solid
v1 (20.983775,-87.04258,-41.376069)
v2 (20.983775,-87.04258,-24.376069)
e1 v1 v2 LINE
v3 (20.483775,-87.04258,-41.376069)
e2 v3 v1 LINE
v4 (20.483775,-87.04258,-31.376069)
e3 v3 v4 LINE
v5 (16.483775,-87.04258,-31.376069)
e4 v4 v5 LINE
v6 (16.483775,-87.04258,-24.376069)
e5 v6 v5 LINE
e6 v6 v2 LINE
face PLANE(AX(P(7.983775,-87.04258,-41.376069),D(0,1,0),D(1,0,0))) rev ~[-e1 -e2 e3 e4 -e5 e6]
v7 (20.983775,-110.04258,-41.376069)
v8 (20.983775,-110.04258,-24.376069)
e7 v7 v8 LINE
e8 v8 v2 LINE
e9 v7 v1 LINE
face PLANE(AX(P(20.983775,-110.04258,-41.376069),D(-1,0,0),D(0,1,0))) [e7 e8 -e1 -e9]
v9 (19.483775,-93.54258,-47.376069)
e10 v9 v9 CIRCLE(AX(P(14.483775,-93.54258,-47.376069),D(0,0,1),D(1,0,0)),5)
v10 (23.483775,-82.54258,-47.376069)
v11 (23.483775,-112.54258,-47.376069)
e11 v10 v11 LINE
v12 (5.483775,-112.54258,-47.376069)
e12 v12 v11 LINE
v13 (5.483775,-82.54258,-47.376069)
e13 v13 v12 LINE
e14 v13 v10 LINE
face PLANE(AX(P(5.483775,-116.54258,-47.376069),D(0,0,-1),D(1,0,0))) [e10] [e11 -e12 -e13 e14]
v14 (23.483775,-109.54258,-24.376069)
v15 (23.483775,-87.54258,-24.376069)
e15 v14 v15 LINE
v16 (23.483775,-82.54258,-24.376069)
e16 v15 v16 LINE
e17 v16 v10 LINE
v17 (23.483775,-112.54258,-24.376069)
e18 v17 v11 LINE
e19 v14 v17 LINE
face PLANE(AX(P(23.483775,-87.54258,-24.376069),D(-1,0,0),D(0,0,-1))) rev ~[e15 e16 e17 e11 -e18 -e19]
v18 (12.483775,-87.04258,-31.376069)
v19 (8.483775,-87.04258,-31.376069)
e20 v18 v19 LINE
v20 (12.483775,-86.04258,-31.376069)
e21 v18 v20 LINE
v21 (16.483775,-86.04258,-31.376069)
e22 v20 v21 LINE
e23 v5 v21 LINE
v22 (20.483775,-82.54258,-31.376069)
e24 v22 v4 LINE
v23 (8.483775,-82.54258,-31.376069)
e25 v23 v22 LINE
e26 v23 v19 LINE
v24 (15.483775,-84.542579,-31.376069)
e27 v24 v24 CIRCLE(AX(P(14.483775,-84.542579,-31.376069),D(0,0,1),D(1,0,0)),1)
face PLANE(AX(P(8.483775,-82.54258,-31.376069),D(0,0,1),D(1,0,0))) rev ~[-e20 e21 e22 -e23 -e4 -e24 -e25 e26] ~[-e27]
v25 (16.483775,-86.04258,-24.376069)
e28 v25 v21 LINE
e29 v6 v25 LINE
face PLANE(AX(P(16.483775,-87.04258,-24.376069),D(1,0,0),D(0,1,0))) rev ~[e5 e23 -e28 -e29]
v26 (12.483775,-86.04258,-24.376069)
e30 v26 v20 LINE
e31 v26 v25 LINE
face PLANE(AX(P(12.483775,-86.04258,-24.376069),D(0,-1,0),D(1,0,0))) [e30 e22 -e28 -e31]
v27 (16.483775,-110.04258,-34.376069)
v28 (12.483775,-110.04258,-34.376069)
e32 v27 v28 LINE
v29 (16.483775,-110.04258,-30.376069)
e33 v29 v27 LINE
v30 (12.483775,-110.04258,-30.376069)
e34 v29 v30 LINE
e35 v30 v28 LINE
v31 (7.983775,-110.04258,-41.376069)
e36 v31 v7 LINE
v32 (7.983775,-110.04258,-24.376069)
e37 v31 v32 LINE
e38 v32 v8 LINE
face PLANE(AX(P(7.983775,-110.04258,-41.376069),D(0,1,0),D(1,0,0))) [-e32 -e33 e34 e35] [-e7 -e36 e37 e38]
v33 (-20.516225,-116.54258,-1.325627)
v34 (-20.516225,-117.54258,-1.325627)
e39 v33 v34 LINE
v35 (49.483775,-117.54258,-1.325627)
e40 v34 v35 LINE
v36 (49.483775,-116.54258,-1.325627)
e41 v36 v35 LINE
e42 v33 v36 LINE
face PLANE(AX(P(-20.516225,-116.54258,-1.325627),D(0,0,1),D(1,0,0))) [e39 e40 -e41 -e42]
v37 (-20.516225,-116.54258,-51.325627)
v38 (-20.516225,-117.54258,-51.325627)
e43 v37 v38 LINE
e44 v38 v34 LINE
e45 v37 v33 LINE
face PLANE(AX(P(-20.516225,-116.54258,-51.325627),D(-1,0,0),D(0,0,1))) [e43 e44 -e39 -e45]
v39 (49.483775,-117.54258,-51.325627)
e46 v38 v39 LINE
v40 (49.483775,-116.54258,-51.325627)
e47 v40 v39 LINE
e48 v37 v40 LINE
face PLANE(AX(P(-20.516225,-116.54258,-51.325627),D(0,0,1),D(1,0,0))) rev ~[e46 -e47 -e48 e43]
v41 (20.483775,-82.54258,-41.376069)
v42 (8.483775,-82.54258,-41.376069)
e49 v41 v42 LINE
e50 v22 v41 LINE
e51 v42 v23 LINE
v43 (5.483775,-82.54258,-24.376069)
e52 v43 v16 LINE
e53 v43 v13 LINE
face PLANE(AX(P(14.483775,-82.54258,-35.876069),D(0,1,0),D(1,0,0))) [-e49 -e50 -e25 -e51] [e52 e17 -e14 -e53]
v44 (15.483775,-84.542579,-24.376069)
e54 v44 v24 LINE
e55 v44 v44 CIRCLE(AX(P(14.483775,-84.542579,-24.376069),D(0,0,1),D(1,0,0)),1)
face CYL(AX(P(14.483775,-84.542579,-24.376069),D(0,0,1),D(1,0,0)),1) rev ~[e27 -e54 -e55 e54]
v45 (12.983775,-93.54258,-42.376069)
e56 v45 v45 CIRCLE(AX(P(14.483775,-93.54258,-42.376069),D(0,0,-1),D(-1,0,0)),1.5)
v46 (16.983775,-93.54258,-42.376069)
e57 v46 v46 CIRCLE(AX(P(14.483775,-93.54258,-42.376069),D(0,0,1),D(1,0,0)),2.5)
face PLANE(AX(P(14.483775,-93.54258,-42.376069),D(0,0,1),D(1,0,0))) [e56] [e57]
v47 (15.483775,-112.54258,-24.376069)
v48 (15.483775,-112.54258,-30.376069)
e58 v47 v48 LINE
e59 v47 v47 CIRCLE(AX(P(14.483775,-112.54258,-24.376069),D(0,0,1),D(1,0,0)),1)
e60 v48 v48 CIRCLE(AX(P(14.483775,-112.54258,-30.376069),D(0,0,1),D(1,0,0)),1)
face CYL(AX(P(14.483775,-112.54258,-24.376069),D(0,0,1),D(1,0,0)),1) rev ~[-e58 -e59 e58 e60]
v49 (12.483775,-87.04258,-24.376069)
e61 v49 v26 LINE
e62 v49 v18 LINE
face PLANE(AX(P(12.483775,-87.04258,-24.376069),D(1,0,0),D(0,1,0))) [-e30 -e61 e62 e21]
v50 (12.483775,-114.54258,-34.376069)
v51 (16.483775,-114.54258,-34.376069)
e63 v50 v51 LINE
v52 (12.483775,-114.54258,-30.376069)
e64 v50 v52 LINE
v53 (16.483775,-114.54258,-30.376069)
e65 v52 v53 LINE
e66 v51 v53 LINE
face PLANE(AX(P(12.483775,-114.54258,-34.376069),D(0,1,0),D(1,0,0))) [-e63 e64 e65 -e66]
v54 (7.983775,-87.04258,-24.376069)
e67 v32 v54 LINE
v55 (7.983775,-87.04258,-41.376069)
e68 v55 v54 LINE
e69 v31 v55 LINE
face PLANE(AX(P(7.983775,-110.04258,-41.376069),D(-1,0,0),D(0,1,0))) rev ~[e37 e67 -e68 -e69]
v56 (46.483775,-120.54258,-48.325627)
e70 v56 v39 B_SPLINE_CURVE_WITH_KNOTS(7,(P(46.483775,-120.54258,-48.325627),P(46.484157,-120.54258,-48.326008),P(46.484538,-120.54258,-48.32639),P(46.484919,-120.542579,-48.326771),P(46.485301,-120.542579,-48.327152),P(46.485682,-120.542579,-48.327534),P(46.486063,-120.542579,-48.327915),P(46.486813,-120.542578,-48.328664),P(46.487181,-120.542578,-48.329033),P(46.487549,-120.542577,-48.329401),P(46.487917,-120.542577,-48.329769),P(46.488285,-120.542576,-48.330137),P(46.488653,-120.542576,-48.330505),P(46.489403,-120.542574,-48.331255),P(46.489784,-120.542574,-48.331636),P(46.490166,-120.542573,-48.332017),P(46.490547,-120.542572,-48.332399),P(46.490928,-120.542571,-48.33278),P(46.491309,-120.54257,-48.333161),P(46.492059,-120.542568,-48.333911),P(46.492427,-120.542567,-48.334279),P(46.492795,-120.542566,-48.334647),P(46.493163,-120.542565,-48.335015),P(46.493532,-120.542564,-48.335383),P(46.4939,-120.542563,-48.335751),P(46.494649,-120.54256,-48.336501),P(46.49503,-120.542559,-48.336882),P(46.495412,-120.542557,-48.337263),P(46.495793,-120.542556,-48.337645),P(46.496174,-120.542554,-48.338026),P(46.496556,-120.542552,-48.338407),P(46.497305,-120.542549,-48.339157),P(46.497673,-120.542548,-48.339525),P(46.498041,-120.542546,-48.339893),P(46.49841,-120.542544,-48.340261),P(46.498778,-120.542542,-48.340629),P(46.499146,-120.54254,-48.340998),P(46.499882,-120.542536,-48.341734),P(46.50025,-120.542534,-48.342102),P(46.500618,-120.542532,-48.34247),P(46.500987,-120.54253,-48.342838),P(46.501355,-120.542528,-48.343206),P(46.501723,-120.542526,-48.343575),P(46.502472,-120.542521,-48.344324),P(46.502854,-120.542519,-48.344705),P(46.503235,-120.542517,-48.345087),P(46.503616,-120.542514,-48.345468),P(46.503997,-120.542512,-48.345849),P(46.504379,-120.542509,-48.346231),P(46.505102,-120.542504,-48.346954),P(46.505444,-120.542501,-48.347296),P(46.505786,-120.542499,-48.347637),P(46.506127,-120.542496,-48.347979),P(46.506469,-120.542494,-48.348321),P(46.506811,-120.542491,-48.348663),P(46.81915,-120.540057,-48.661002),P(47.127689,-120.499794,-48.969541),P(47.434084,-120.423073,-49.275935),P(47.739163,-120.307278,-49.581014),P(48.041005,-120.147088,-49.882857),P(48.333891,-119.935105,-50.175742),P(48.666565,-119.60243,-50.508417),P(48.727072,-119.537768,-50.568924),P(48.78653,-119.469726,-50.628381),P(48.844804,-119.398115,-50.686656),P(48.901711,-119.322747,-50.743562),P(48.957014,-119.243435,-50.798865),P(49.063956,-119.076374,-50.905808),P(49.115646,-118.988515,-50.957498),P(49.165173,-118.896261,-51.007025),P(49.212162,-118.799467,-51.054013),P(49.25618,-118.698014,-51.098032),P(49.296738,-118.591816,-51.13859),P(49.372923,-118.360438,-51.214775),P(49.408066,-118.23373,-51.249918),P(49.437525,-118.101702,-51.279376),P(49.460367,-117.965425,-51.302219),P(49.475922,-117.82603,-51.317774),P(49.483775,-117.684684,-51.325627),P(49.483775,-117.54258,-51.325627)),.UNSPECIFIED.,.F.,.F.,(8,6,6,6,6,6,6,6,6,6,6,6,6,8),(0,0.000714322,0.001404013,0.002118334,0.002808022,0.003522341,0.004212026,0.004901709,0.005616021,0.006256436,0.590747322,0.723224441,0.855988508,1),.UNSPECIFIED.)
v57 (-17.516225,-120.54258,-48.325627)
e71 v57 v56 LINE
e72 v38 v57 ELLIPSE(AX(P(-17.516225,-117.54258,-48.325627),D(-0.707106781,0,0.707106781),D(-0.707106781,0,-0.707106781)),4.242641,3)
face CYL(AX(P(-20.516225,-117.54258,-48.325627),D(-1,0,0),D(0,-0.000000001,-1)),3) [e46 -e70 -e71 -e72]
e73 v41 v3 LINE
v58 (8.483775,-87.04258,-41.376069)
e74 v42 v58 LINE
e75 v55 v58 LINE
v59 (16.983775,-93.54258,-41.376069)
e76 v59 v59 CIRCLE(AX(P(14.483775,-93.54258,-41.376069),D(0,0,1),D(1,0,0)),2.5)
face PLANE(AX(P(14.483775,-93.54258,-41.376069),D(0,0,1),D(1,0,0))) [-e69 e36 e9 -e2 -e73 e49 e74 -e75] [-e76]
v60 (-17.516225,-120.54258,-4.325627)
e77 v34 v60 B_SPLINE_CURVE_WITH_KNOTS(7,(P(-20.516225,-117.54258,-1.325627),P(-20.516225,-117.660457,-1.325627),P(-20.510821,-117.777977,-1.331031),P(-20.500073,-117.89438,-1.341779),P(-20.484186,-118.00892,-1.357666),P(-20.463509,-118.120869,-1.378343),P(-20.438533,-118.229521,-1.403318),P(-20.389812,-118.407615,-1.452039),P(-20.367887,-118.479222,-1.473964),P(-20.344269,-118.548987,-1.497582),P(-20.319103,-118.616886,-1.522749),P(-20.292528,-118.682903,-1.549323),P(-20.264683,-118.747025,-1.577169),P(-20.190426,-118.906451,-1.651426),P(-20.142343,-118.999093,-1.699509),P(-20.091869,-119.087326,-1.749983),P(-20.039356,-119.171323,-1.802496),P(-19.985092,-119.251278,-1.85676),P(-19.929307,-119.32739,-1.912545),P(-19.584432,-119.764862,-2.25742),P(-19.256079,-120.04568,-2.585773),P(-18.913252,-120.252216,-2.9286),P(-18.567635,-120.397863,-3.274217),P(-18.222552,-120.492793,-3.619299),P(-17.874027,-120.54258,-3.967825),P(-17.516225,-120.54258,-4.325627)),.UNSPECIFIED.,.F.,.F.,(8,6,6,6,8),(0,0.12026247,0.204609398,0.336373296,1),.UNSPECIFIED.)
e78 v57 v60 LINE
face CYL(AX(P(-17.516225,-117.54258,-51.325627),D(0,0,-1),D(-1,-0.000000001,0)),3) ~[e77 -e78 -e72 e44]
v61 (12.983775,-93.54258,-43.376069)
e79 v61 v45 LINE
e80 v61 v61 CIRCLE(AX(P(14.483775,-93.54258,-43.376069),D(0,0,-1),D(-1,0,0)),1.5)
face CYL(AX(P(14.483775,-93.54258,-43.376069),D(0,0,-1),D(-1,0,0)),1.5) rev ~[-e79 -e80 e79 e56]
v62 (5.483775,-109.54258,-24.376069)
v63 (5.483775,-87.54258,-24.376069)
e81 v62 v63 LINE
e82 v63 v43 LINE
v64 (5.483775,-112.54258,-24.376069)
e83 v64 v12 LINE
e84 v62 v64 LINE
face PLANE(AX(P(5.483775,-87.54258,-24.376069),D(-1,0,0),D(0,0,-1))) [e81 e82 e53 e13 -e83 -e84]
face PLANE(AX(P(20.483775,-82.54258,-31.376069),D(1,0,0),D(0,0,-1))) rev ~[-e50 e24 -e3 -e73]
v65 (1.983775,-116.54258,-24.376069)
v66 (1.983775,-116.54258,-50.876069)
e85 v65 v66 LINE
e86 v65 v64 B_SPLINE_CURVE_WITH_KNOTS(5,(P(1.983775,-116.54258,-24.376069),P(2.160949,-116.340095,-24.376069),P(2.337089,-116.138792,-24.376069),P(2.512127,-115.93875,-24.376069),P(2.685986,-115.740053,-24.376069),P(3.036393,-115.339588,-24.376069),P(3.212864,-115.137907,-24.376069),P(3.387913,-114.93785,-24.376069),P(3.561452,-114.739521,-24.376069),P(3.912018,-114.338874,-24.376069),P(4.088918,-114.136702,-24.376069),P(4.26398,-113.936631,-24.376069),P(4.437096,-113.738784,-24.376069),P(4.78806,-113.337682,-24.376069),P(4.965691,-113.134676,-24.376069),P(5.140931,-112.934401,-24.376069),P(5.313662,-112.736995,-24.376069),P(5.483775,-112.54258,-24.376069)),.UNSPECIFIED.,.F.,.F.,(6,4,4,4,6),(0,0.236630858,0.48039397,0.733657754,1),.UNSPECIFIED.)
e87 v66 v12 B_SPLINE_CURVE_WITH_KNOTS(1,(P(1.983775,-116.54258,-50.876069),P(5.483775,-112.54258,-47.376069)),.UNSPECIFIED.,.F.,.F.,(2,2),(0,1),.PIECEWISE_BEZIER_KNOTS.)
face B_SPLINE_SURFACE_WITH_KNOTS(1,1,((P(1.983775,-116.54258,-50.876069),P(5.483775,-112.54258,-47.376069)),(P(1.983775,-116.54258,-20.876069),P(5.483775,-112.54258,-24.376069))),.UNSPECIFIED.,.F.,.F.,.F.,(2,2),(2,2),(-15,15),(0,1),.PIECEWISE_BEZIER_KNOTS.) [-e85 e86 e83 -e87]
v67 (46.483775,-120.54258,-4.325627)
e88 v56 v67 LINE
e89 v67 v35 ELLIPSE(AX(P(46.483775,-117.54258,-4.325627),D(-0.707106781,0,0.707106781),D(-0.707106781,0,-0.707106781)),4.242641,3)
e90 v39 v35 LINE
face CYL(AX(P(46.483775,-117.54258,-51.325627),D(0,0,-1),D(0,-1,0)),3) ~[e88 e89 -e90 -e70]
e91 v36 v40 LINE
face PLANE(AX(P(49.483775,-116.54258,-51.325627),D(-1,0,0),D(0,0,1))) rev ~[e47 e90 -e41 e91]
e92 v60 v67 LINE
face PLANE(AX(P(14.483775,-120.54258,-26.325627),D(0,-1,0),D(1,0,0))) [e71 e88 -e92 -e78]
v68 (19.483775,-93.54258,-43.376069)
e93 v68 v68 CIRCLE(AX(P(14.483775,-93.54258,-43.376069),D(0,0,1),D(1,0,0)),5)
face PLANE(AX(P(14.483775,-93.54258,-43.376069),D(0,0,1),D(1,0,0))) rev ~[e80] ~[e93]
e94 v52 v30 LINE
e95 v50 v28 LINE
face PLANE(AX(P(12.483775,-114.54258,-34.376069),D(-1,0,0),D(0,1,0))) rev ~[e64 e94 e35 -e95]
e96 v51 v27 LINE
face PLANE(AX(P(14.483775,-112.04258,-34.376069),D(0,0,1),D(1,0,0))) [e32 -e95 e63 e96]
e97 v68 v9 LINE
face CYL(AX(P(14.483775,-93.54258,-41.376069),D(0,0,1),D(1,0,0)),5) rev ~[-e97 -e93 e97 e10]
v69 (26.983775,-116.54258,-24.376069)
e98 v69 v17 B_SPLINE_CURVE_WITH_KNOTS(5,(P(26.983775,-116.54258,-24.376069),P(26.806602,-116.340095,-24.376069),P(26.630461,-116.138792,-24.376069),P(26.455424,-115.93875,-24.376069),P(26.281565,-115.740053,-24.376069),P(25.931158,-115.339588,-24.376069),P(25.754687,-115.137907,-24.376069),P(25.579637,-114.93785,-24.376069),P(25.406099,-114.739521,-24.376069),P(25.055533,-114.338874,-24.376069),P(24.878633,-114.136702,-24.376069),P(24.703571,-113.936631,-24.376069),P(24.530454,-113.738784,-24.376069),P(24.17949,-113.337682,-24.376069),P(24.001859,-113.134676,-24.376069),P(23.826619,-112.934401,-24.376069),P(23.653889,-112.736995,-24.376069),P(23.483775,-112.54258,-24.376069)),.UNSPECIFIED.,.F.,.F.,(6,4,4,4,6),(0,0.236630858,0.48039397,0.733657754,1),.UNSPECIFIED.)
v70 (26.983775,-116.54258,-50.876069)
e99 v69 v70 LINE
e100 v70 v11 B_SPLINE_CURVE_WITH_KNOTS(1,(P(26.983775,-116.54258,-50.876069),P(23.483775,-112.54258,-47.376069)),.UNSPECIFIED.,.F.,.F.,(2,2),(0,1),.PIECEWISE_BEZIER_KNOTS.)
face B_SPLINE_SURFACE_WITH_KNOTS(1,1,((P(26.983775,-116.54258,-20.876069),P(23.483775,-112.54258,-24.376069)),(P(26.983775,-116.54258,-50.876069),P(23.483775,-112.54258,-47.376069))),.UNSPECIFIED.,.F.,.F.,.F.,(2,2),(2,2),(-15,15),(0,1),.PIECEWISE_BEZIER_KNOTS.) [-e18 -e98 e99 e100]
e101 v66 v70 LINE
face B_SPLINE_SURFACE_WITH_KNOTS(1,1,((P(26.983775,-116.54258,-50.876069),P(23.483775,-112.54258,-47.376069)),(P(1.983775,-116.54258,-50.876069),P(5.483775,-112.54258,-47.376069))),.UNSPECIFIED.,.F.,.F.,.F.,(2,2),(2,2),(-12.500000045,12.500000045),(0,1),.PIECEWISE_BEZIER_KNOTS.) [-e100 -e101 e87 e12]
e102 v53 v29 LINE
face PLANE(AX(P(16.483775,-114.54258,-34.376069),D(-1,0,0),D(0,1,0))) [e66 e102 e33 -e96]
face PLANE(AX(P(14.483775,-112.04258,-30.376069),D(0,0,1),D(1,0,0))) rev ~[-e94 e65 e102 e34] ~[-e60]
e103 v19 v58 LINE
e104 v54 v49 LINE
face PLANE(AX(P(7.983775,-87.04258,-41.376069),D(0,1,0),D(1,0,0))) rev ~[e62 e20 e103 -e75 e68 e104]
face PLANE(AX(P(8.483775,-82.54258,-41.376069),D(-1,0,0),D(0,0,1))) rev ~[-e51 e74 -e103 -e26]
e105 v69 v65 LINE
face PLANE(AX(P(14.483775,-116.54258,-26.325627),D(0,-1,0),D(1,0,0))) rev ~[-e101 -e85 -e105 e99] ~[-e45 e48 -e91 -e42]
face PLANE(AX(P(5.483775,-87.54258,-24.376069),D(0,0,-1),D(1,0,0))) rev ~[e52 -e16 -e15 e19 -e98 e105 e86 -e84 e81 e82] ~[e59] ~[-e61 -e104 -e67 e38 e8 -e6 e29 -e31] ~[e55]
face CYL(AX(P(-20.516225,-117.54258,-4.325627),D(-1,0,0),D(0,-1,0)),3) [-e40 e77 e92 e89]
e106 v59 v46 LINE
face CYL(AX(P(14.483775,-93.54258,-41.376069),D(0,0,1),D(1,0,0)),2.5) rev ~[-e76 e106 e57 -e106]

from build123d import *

# Parameters (mm, degrees)
BOSS_EXTRUDE1_DEPTH     = 22
SKETCH2_W               = 18.000000089
SKETCH2_H               = 20
BOSS_EXTRUDE2_DEPTH     = 7
SKETCH3_W               = 70
SKETCH3_H               = 50
BOSS_EXTRUDE3_DEPTH     = 4
SKETCH31_W              = 18.000000089
SKETCH31_H              = 3
BOSS_EXTRUDE7_DEPTH     = 34
CUT_EXTRUDE1_REACH      = 52
CUT_EXTRUDE_THIN1_REACH = 72
SKETCH7_W               = 25.000000089
SKETCH7_H               = 30
SKETCH8_W               = 18.000000089
SKETCH8_H               = 23
CUT_EXTRUDE2_DEPTH      = 27.000000055
CUT_EXTRUDE2_DEPTH_BACK = 45.000000145
SKETCH10_R              = 1
CUT_EXTRUDE3_DEPTH      = 10
SKETCH12_W              = 4
SKETCH12_H              = 5
CUT_EXTRUDE4_DEPTH      = 4
SKETCH13_W              = 18.000000089
SKETCH13_H              = 23
BOSS_EXTRUDE4_DEPTH     = 5
SKETCH14_R              = 1
CUT_EXTRUDE5_DEPTH      = 10
CUT_EXTRUDE6_REACH      = 40
CUT_EXTRUDE10_START     = -17
SKETCH29_W              = 13
SKETCH29_H              = 23
CUT_EXTRUDE10_DEPTH     = 17
SKETCH30_W              = 4
SKETCH30_H              = 1
CUT_EXTRUDE11_DEPTH     = 7
SKETCH21_R              = 5
CUT_EXTRUDE12_DEPTH     = 6
SKETCH32_R              = 4.999999958
BOSS_EXTRUDE8_DEPTH     = 2
CUT_EXTRUDE13_REACH     = 44.05
SKETCH33_R              = 1.5
SKETCH34_R              = 2.5
CUT_EXTRUDE14_DEPTH     = 1


with BuildPart() as part:
    # Sketch1 → Boss-Extrude1 (new body)
    with BuildSketch(Plane.XZ.offset(109.542579658)):
        Polygon((23.483775445, -24.37606884), (23.483775445, -44.37606884), (5.483775356, -44.37606884), (5.483775356, -24.37606884), (8.483775356, -24.37606884), (8.483775445, -41.37606884), (20.483775445, -41.37606884), (20.483775445, -24.37606884), align=None)
    extrude(amount=-BOSS_EXTRUDE1_DEPTH)

    # Sketch2 → Boss-Extrude2 (add)
    with BuildSketch(Plane.XZ.offset(109.542579658)):
        with Locations((14.483775401, -34.37606884)):
            Rectangle(SKETCH2_W, SKETCH2_H)
    extrude(amount=BOSS_EXTRUDE2_DEPTH)

    # Sketch3 → Boss-Extrude3 (add)
    with BuildSketch(Plane.XZ.offset(116.542579658)):
        with Locations((14.4837754, -26.325627156)):
            Rectangle(SKETCH3_W, SKETCH3_H)
    extrude(amount=BOSS_EXTRUDE3_DEPTH)

    # Sketch31 → Boss-Extrude7 (add)
    with BuildSketch(Plane(origin=(0, -116.542579658, 0), x_dir=(1, 0, 0), z_dir=(0, 1, 0))):
        with Locations((14.483775401, 45.87606884)):
            Rectangle(SKETCH31_W, SKETCH31_H)
    extrude(amount=BOSS_EXTRUDE7_DEPTH)

    # Sketch4 → Cut-Extrude1 (cut, up to next)
    with BuildSketch(Plane(origin=(0, 0, -51.325627156), x_dir=(-1, 0, 0), z_dir=(0, 0, -1)), mode=Mode.PRIVATE) as cut_extrude1_sk1:
        with BuildLine():
            Line((-49.4837754, -117.542579658), (-49.4837754, -120.542579658))
            Line((-49.4837754, -120.542579658), (-46.4837754, -120.542579658))
            ThreePointArc((-46.4837754, -120.542579658), (-48.605095744, -119.663900001), (-49.4837754, -117.542579658))
        make_face()
    cut_extrude1_tool1 = extrude(cut_extrude1_sk1.sketch, amount=-CUT_EXTRUDE1_REACH, mode=Mode.PRIVATE) & part.part
    add(cut_extrude1_tool1.solids().sort_by_distance((48.813672, -119.872476, -51.325627))[0], mode=Mode.SUBTRACT)
    # Sketch4 → Cut-Extrude1 (cut, up to next)
    with BuildSketch(Plane(origin=(0, 0, -51.325627156), x_dir=(-1, 0, 0), z_dir=(0, 0, -1)), mode=Mode.PRIVATE) as cut_extrude1_sk2:
        with BuildLine():
            Line((17.5162246, -120.542579658), (20.5162246, -120.542579658))
            Line((20.5162246, -120.542579658), (20.5162246, -117.542579658))
            ThreePointArc((20.5162246, -117.542579658), (19.637544943, -119.663900001), (17.5162246, -120.542579658))
        make_face()
    cut_extrude1_tool2 = extrude(cut_extrude1_sk2.sketch, amount=-CUT_EXTRUDE1_REACH, mode=Mode.PRIVATE) & part.part
    add(cut_extrude1_tool2.solids().sort_by_distance((-19.846121, -119.872476, -51.325627))[0], mode=Mode.SUBTRACT)

    # Sketch6 → Cut-Extrude-Thin1 (cut, up to next)
    with BuildSketch(Plane.ZY.offset(20.5162246), mode=Mode.PRIVATE) as cut_extrude_thin1_sk1:
        with BuildLine():
            ThreePointArc((-4.325627156, -120.542579658), (-2.204306812, -119.663900001), (-1.325627156, -117.542579658))
            Line((-1.325627156, -117.542579658), (8.674372844, -117.542579658))
            ThreePointArc((8.674372844, -117.542579658), (4.866761, -126.734967813), (-4.325627156, -130.542579658))
            Line((-4.325627156, -130.542579658), (-4.325627156, -120.542579658))
        make_face()
    cut_extrude_thin1_tool1 = extrude(cut_extrude_thin1_sk1.sketch, amount=-CUT_EXTRUDE_THIN1_REACH, mode=Mode.PRIVATE) & part.part
    add(cut_extrude_thin1_tool1.solids().sort_by_distance((-20.516225, -123.298683, 1.430477))[0], mode=Mode.SUBTRACT)
    # Sketch6 → Cut-Extrude-Thin1 (cut, up to next)
    with BuildSketch(Plane.ZY.offset(20.5162246), mode=Mode.PRIVATE) as cut_extrude_thin1_sk2:
        with BuildLine():
            ThreePointArc((-51.325627156, -117.542579658), (-50.446947499, -119.663900001), (-48.325627156, -120.542579658))
            Line((-48.325627156, -120.542579658), (-48.325627156, -130.542579658))
            ThreePointArc((-48.325627156, -130.542579658), (-57.518015311, -126.734967813), (-61.325627156, -117.542579658))
            Line((-61.325627156, -117.542579658), (-51.325627156, -117.542579658))
        make_face()
    cut_extrude_thin1_tool2 = extrude(cut_extrude_thin1_sk2.sketch, amount=-CUT_EXTRUDE_THIN1_REACH, mode=Mode.PRIVATE) & part.part
    add(cut_extrude_thin1_tool2.solids().sort_by_distance((-20.516225, -123.298683, -54.081731))[0], mode=Mode.SUBTRACT)

    # Sketch7 → Loft2 section 0
    with BuildSketch(Plane(origin=(0, -116.542579658, 0), x_dir=(1, 0, 0), z_dir=(0, 1, 0))):
        with Locations((14.483775401, 35.87606884)):
            Rectangle(SKETCH7_W, SKETCH7_H)
    # Sketch8 → Loft2 section 1
    with BuildSketch(Plane(origin=(0, -112.542579658, 0), x_dir=(1, 0, 0), z_dir=(0, 1, 0))):
        with Locations((14.483775401, 35.87606884)):
            Rectangle(SKETCH8_W, SKETCH8_H)
    loft()

    # Sketch9 → Cut-Extrude2 (cut, two sides)
    with BuildSketch(Plane.ZY.offset(-5.483775356)) as cut_extrude2_sk:
        Polygon((-24.37606884, -112.542579658), (-24.37606884, -116.542579658), (-20.87606884, -116.542579658), align=None)
    extrude(amount=CUT_EXTRUDE2_DEPTH, mode=Mode.SUBTRACT)
    extrude(cut_extrude2_sk.sketch, amount=-CUT_EXTRUDE2_DEPTH_BACK, mode=Mode.SUBTRACT)

    # Sketch10 → Cut-Extrude3 (cut)
    with BuildSketch(Plane.XY.offset(-24.37606884)):
        with Locations((14.483775445, -112.542579896)):
            Circle(SKETCH10_R)
    extrude(amount=-CUT_EXTRUDE3_DEPTH, mode=Mode.SUBTRACT)

    # Sketch12 → Cut-Extrude4 (cut)
    with BuildSketch(Plane.XY.offset(-34.37606884)):
        with Locations((14.483775445, -112.042579658)):
            Rectangle(SKETCH12_W, SKETCH12_H)
    extrude(amount=CUT_EXTRUDE4_DEPTH, mode=Mode.SUBTRACT)

    # Sketch13 → Boss-Extrude4 (add)
    with BuildSketch(Plane(origin=(0, -87.542579658, 0), x_dir=(1, 0, 0), z_dir=(0, 1, 0))):
        with Locations((14.483775401, 35.87606884)):
            Rectangle(SKETCH13_W, SKETCH13_H)
    extrude(amount=BOSS_EXTRUDE4_DEPTH)

    # Sketch14 → Cut-Extrude5 (cut)
    with BuildSketch(Plane.XY.offset(-24.37606884)):
        with Locations((14.483775445, -84.542579419)):
            Circle(SKETCH14_R)
    extrude(amount=-CUT_EXTRUDE5_DEPTH, mode=Mode.SUBTRACT)

    # Sketch16 → Cut-Extrude6 (cut, up to next)
    with BuildSketch(Plane(origin=(0, -82.542579658, 0), x_dir=(1, 0, 0), z_dir=(0, 1, 0)), mode=Mode.PRIVATE) as cut_extrude6_sk1:
        Polygon((14.4837754, 41.37606884), (8.4837754, 41.37606884), (8.4837754, 31.37606884), (20.4837754, 31.37606884), (20.4837754, 41.37606884), align=None)
    cut_extrude6_tool1 = extrude(cut_extrude6_sk1.sketch, amount=-CUT_EXTRUDE6_REACH, mode=Mode.PRIVATE) & part.part
    add(cut_extrude6_tool1.solids().sort_by_distance((14.483775, -82.54258, -36.376069))[0], mode=Mode.SUBTRACT)

    # Sketch29 → Cut-Extrude10 (cut)
    with BuildSketch(Plane.XY.offset(-24.37606884).offset(CUT_EXTRUDE10_START)):
        with Locations((14.483775445, -98.542579658)):
            Rectangle(SKETCH29_W, SKETCH29_H)
    extrude(amount=CUT_EXTRUDE10_DEPTH, mode=Mode.SUBTRACT)

    # Sketch30 → Cut-Extrude11 (cut)
    with BuildSketch(Plane.XY.offset(-24.37606884)):
        with Locations((14.483775445, -86.542579658)):
            Rectangle(SKETCH30_W, SKETCH30_H)
    extrude(amount=-CUT_EXTRUDE11_DEPTH, mode=Mode.SUBTRACT)

    # Sketch21 → Cut-Extrude12 (cut)
    with BuildSketch(Plane.XY.offset(-41.37606884)):
        with Locations((14.4837754, -93.542579583)):
            Circle(SKETCH21_R)
    extrude(amount=-CUT_EXTRUDE12_DEPTH, mode=Mode.SUBTRACT)

    # Sketch32 → Boss-Extrude8 (add)
    with BuildSketch(Plane.XY.offset(-41.37606884)):
        with Locations((14.483775445, -93.542579583)):
            Circle(SKETCH32_R)
    extrude(amount=-BOSS_EXTRUDE8_DEPTH)

    # Sketch33 → Cut-Extrude13 (cut, up to next)
    with BuildSketch(Plane(origin=(0, 0, -43.37606884), x_dir=(-1, 0, 0), z_dir=(0, 0, -1)), mode=Mode.PRIVATE) as cut_extrude13_sk1:
        with Locations((-14.4837754, -93.542579583)):
            Circle(SKETCH33_R)
    cut_extrude13_tool1 = extrude(cut_extrude13_sk1.sketch, amount=-CUT_EXTRUDE13_REACH, mode=Mode.PRIVATE) & part.part
    add(cut_extrude13_tool1.solids().sort_by_distance((14.483775, -93.54258, -43.376069))[0], mode=Mode.SUBTRACT)

    # Sketch34 → Cut-Extrude14 (cut)
    with BuildSketch(Plane.XY.offset(-41.37606884)):
        with Locations((14.4837754, -93.542579583)):
            Circle(SKETCH34_R)
    extrude(amount=-CUT_EXTRUDE14_DEPTH, mode=Mode.SUBTRACT)


solid = part.part
